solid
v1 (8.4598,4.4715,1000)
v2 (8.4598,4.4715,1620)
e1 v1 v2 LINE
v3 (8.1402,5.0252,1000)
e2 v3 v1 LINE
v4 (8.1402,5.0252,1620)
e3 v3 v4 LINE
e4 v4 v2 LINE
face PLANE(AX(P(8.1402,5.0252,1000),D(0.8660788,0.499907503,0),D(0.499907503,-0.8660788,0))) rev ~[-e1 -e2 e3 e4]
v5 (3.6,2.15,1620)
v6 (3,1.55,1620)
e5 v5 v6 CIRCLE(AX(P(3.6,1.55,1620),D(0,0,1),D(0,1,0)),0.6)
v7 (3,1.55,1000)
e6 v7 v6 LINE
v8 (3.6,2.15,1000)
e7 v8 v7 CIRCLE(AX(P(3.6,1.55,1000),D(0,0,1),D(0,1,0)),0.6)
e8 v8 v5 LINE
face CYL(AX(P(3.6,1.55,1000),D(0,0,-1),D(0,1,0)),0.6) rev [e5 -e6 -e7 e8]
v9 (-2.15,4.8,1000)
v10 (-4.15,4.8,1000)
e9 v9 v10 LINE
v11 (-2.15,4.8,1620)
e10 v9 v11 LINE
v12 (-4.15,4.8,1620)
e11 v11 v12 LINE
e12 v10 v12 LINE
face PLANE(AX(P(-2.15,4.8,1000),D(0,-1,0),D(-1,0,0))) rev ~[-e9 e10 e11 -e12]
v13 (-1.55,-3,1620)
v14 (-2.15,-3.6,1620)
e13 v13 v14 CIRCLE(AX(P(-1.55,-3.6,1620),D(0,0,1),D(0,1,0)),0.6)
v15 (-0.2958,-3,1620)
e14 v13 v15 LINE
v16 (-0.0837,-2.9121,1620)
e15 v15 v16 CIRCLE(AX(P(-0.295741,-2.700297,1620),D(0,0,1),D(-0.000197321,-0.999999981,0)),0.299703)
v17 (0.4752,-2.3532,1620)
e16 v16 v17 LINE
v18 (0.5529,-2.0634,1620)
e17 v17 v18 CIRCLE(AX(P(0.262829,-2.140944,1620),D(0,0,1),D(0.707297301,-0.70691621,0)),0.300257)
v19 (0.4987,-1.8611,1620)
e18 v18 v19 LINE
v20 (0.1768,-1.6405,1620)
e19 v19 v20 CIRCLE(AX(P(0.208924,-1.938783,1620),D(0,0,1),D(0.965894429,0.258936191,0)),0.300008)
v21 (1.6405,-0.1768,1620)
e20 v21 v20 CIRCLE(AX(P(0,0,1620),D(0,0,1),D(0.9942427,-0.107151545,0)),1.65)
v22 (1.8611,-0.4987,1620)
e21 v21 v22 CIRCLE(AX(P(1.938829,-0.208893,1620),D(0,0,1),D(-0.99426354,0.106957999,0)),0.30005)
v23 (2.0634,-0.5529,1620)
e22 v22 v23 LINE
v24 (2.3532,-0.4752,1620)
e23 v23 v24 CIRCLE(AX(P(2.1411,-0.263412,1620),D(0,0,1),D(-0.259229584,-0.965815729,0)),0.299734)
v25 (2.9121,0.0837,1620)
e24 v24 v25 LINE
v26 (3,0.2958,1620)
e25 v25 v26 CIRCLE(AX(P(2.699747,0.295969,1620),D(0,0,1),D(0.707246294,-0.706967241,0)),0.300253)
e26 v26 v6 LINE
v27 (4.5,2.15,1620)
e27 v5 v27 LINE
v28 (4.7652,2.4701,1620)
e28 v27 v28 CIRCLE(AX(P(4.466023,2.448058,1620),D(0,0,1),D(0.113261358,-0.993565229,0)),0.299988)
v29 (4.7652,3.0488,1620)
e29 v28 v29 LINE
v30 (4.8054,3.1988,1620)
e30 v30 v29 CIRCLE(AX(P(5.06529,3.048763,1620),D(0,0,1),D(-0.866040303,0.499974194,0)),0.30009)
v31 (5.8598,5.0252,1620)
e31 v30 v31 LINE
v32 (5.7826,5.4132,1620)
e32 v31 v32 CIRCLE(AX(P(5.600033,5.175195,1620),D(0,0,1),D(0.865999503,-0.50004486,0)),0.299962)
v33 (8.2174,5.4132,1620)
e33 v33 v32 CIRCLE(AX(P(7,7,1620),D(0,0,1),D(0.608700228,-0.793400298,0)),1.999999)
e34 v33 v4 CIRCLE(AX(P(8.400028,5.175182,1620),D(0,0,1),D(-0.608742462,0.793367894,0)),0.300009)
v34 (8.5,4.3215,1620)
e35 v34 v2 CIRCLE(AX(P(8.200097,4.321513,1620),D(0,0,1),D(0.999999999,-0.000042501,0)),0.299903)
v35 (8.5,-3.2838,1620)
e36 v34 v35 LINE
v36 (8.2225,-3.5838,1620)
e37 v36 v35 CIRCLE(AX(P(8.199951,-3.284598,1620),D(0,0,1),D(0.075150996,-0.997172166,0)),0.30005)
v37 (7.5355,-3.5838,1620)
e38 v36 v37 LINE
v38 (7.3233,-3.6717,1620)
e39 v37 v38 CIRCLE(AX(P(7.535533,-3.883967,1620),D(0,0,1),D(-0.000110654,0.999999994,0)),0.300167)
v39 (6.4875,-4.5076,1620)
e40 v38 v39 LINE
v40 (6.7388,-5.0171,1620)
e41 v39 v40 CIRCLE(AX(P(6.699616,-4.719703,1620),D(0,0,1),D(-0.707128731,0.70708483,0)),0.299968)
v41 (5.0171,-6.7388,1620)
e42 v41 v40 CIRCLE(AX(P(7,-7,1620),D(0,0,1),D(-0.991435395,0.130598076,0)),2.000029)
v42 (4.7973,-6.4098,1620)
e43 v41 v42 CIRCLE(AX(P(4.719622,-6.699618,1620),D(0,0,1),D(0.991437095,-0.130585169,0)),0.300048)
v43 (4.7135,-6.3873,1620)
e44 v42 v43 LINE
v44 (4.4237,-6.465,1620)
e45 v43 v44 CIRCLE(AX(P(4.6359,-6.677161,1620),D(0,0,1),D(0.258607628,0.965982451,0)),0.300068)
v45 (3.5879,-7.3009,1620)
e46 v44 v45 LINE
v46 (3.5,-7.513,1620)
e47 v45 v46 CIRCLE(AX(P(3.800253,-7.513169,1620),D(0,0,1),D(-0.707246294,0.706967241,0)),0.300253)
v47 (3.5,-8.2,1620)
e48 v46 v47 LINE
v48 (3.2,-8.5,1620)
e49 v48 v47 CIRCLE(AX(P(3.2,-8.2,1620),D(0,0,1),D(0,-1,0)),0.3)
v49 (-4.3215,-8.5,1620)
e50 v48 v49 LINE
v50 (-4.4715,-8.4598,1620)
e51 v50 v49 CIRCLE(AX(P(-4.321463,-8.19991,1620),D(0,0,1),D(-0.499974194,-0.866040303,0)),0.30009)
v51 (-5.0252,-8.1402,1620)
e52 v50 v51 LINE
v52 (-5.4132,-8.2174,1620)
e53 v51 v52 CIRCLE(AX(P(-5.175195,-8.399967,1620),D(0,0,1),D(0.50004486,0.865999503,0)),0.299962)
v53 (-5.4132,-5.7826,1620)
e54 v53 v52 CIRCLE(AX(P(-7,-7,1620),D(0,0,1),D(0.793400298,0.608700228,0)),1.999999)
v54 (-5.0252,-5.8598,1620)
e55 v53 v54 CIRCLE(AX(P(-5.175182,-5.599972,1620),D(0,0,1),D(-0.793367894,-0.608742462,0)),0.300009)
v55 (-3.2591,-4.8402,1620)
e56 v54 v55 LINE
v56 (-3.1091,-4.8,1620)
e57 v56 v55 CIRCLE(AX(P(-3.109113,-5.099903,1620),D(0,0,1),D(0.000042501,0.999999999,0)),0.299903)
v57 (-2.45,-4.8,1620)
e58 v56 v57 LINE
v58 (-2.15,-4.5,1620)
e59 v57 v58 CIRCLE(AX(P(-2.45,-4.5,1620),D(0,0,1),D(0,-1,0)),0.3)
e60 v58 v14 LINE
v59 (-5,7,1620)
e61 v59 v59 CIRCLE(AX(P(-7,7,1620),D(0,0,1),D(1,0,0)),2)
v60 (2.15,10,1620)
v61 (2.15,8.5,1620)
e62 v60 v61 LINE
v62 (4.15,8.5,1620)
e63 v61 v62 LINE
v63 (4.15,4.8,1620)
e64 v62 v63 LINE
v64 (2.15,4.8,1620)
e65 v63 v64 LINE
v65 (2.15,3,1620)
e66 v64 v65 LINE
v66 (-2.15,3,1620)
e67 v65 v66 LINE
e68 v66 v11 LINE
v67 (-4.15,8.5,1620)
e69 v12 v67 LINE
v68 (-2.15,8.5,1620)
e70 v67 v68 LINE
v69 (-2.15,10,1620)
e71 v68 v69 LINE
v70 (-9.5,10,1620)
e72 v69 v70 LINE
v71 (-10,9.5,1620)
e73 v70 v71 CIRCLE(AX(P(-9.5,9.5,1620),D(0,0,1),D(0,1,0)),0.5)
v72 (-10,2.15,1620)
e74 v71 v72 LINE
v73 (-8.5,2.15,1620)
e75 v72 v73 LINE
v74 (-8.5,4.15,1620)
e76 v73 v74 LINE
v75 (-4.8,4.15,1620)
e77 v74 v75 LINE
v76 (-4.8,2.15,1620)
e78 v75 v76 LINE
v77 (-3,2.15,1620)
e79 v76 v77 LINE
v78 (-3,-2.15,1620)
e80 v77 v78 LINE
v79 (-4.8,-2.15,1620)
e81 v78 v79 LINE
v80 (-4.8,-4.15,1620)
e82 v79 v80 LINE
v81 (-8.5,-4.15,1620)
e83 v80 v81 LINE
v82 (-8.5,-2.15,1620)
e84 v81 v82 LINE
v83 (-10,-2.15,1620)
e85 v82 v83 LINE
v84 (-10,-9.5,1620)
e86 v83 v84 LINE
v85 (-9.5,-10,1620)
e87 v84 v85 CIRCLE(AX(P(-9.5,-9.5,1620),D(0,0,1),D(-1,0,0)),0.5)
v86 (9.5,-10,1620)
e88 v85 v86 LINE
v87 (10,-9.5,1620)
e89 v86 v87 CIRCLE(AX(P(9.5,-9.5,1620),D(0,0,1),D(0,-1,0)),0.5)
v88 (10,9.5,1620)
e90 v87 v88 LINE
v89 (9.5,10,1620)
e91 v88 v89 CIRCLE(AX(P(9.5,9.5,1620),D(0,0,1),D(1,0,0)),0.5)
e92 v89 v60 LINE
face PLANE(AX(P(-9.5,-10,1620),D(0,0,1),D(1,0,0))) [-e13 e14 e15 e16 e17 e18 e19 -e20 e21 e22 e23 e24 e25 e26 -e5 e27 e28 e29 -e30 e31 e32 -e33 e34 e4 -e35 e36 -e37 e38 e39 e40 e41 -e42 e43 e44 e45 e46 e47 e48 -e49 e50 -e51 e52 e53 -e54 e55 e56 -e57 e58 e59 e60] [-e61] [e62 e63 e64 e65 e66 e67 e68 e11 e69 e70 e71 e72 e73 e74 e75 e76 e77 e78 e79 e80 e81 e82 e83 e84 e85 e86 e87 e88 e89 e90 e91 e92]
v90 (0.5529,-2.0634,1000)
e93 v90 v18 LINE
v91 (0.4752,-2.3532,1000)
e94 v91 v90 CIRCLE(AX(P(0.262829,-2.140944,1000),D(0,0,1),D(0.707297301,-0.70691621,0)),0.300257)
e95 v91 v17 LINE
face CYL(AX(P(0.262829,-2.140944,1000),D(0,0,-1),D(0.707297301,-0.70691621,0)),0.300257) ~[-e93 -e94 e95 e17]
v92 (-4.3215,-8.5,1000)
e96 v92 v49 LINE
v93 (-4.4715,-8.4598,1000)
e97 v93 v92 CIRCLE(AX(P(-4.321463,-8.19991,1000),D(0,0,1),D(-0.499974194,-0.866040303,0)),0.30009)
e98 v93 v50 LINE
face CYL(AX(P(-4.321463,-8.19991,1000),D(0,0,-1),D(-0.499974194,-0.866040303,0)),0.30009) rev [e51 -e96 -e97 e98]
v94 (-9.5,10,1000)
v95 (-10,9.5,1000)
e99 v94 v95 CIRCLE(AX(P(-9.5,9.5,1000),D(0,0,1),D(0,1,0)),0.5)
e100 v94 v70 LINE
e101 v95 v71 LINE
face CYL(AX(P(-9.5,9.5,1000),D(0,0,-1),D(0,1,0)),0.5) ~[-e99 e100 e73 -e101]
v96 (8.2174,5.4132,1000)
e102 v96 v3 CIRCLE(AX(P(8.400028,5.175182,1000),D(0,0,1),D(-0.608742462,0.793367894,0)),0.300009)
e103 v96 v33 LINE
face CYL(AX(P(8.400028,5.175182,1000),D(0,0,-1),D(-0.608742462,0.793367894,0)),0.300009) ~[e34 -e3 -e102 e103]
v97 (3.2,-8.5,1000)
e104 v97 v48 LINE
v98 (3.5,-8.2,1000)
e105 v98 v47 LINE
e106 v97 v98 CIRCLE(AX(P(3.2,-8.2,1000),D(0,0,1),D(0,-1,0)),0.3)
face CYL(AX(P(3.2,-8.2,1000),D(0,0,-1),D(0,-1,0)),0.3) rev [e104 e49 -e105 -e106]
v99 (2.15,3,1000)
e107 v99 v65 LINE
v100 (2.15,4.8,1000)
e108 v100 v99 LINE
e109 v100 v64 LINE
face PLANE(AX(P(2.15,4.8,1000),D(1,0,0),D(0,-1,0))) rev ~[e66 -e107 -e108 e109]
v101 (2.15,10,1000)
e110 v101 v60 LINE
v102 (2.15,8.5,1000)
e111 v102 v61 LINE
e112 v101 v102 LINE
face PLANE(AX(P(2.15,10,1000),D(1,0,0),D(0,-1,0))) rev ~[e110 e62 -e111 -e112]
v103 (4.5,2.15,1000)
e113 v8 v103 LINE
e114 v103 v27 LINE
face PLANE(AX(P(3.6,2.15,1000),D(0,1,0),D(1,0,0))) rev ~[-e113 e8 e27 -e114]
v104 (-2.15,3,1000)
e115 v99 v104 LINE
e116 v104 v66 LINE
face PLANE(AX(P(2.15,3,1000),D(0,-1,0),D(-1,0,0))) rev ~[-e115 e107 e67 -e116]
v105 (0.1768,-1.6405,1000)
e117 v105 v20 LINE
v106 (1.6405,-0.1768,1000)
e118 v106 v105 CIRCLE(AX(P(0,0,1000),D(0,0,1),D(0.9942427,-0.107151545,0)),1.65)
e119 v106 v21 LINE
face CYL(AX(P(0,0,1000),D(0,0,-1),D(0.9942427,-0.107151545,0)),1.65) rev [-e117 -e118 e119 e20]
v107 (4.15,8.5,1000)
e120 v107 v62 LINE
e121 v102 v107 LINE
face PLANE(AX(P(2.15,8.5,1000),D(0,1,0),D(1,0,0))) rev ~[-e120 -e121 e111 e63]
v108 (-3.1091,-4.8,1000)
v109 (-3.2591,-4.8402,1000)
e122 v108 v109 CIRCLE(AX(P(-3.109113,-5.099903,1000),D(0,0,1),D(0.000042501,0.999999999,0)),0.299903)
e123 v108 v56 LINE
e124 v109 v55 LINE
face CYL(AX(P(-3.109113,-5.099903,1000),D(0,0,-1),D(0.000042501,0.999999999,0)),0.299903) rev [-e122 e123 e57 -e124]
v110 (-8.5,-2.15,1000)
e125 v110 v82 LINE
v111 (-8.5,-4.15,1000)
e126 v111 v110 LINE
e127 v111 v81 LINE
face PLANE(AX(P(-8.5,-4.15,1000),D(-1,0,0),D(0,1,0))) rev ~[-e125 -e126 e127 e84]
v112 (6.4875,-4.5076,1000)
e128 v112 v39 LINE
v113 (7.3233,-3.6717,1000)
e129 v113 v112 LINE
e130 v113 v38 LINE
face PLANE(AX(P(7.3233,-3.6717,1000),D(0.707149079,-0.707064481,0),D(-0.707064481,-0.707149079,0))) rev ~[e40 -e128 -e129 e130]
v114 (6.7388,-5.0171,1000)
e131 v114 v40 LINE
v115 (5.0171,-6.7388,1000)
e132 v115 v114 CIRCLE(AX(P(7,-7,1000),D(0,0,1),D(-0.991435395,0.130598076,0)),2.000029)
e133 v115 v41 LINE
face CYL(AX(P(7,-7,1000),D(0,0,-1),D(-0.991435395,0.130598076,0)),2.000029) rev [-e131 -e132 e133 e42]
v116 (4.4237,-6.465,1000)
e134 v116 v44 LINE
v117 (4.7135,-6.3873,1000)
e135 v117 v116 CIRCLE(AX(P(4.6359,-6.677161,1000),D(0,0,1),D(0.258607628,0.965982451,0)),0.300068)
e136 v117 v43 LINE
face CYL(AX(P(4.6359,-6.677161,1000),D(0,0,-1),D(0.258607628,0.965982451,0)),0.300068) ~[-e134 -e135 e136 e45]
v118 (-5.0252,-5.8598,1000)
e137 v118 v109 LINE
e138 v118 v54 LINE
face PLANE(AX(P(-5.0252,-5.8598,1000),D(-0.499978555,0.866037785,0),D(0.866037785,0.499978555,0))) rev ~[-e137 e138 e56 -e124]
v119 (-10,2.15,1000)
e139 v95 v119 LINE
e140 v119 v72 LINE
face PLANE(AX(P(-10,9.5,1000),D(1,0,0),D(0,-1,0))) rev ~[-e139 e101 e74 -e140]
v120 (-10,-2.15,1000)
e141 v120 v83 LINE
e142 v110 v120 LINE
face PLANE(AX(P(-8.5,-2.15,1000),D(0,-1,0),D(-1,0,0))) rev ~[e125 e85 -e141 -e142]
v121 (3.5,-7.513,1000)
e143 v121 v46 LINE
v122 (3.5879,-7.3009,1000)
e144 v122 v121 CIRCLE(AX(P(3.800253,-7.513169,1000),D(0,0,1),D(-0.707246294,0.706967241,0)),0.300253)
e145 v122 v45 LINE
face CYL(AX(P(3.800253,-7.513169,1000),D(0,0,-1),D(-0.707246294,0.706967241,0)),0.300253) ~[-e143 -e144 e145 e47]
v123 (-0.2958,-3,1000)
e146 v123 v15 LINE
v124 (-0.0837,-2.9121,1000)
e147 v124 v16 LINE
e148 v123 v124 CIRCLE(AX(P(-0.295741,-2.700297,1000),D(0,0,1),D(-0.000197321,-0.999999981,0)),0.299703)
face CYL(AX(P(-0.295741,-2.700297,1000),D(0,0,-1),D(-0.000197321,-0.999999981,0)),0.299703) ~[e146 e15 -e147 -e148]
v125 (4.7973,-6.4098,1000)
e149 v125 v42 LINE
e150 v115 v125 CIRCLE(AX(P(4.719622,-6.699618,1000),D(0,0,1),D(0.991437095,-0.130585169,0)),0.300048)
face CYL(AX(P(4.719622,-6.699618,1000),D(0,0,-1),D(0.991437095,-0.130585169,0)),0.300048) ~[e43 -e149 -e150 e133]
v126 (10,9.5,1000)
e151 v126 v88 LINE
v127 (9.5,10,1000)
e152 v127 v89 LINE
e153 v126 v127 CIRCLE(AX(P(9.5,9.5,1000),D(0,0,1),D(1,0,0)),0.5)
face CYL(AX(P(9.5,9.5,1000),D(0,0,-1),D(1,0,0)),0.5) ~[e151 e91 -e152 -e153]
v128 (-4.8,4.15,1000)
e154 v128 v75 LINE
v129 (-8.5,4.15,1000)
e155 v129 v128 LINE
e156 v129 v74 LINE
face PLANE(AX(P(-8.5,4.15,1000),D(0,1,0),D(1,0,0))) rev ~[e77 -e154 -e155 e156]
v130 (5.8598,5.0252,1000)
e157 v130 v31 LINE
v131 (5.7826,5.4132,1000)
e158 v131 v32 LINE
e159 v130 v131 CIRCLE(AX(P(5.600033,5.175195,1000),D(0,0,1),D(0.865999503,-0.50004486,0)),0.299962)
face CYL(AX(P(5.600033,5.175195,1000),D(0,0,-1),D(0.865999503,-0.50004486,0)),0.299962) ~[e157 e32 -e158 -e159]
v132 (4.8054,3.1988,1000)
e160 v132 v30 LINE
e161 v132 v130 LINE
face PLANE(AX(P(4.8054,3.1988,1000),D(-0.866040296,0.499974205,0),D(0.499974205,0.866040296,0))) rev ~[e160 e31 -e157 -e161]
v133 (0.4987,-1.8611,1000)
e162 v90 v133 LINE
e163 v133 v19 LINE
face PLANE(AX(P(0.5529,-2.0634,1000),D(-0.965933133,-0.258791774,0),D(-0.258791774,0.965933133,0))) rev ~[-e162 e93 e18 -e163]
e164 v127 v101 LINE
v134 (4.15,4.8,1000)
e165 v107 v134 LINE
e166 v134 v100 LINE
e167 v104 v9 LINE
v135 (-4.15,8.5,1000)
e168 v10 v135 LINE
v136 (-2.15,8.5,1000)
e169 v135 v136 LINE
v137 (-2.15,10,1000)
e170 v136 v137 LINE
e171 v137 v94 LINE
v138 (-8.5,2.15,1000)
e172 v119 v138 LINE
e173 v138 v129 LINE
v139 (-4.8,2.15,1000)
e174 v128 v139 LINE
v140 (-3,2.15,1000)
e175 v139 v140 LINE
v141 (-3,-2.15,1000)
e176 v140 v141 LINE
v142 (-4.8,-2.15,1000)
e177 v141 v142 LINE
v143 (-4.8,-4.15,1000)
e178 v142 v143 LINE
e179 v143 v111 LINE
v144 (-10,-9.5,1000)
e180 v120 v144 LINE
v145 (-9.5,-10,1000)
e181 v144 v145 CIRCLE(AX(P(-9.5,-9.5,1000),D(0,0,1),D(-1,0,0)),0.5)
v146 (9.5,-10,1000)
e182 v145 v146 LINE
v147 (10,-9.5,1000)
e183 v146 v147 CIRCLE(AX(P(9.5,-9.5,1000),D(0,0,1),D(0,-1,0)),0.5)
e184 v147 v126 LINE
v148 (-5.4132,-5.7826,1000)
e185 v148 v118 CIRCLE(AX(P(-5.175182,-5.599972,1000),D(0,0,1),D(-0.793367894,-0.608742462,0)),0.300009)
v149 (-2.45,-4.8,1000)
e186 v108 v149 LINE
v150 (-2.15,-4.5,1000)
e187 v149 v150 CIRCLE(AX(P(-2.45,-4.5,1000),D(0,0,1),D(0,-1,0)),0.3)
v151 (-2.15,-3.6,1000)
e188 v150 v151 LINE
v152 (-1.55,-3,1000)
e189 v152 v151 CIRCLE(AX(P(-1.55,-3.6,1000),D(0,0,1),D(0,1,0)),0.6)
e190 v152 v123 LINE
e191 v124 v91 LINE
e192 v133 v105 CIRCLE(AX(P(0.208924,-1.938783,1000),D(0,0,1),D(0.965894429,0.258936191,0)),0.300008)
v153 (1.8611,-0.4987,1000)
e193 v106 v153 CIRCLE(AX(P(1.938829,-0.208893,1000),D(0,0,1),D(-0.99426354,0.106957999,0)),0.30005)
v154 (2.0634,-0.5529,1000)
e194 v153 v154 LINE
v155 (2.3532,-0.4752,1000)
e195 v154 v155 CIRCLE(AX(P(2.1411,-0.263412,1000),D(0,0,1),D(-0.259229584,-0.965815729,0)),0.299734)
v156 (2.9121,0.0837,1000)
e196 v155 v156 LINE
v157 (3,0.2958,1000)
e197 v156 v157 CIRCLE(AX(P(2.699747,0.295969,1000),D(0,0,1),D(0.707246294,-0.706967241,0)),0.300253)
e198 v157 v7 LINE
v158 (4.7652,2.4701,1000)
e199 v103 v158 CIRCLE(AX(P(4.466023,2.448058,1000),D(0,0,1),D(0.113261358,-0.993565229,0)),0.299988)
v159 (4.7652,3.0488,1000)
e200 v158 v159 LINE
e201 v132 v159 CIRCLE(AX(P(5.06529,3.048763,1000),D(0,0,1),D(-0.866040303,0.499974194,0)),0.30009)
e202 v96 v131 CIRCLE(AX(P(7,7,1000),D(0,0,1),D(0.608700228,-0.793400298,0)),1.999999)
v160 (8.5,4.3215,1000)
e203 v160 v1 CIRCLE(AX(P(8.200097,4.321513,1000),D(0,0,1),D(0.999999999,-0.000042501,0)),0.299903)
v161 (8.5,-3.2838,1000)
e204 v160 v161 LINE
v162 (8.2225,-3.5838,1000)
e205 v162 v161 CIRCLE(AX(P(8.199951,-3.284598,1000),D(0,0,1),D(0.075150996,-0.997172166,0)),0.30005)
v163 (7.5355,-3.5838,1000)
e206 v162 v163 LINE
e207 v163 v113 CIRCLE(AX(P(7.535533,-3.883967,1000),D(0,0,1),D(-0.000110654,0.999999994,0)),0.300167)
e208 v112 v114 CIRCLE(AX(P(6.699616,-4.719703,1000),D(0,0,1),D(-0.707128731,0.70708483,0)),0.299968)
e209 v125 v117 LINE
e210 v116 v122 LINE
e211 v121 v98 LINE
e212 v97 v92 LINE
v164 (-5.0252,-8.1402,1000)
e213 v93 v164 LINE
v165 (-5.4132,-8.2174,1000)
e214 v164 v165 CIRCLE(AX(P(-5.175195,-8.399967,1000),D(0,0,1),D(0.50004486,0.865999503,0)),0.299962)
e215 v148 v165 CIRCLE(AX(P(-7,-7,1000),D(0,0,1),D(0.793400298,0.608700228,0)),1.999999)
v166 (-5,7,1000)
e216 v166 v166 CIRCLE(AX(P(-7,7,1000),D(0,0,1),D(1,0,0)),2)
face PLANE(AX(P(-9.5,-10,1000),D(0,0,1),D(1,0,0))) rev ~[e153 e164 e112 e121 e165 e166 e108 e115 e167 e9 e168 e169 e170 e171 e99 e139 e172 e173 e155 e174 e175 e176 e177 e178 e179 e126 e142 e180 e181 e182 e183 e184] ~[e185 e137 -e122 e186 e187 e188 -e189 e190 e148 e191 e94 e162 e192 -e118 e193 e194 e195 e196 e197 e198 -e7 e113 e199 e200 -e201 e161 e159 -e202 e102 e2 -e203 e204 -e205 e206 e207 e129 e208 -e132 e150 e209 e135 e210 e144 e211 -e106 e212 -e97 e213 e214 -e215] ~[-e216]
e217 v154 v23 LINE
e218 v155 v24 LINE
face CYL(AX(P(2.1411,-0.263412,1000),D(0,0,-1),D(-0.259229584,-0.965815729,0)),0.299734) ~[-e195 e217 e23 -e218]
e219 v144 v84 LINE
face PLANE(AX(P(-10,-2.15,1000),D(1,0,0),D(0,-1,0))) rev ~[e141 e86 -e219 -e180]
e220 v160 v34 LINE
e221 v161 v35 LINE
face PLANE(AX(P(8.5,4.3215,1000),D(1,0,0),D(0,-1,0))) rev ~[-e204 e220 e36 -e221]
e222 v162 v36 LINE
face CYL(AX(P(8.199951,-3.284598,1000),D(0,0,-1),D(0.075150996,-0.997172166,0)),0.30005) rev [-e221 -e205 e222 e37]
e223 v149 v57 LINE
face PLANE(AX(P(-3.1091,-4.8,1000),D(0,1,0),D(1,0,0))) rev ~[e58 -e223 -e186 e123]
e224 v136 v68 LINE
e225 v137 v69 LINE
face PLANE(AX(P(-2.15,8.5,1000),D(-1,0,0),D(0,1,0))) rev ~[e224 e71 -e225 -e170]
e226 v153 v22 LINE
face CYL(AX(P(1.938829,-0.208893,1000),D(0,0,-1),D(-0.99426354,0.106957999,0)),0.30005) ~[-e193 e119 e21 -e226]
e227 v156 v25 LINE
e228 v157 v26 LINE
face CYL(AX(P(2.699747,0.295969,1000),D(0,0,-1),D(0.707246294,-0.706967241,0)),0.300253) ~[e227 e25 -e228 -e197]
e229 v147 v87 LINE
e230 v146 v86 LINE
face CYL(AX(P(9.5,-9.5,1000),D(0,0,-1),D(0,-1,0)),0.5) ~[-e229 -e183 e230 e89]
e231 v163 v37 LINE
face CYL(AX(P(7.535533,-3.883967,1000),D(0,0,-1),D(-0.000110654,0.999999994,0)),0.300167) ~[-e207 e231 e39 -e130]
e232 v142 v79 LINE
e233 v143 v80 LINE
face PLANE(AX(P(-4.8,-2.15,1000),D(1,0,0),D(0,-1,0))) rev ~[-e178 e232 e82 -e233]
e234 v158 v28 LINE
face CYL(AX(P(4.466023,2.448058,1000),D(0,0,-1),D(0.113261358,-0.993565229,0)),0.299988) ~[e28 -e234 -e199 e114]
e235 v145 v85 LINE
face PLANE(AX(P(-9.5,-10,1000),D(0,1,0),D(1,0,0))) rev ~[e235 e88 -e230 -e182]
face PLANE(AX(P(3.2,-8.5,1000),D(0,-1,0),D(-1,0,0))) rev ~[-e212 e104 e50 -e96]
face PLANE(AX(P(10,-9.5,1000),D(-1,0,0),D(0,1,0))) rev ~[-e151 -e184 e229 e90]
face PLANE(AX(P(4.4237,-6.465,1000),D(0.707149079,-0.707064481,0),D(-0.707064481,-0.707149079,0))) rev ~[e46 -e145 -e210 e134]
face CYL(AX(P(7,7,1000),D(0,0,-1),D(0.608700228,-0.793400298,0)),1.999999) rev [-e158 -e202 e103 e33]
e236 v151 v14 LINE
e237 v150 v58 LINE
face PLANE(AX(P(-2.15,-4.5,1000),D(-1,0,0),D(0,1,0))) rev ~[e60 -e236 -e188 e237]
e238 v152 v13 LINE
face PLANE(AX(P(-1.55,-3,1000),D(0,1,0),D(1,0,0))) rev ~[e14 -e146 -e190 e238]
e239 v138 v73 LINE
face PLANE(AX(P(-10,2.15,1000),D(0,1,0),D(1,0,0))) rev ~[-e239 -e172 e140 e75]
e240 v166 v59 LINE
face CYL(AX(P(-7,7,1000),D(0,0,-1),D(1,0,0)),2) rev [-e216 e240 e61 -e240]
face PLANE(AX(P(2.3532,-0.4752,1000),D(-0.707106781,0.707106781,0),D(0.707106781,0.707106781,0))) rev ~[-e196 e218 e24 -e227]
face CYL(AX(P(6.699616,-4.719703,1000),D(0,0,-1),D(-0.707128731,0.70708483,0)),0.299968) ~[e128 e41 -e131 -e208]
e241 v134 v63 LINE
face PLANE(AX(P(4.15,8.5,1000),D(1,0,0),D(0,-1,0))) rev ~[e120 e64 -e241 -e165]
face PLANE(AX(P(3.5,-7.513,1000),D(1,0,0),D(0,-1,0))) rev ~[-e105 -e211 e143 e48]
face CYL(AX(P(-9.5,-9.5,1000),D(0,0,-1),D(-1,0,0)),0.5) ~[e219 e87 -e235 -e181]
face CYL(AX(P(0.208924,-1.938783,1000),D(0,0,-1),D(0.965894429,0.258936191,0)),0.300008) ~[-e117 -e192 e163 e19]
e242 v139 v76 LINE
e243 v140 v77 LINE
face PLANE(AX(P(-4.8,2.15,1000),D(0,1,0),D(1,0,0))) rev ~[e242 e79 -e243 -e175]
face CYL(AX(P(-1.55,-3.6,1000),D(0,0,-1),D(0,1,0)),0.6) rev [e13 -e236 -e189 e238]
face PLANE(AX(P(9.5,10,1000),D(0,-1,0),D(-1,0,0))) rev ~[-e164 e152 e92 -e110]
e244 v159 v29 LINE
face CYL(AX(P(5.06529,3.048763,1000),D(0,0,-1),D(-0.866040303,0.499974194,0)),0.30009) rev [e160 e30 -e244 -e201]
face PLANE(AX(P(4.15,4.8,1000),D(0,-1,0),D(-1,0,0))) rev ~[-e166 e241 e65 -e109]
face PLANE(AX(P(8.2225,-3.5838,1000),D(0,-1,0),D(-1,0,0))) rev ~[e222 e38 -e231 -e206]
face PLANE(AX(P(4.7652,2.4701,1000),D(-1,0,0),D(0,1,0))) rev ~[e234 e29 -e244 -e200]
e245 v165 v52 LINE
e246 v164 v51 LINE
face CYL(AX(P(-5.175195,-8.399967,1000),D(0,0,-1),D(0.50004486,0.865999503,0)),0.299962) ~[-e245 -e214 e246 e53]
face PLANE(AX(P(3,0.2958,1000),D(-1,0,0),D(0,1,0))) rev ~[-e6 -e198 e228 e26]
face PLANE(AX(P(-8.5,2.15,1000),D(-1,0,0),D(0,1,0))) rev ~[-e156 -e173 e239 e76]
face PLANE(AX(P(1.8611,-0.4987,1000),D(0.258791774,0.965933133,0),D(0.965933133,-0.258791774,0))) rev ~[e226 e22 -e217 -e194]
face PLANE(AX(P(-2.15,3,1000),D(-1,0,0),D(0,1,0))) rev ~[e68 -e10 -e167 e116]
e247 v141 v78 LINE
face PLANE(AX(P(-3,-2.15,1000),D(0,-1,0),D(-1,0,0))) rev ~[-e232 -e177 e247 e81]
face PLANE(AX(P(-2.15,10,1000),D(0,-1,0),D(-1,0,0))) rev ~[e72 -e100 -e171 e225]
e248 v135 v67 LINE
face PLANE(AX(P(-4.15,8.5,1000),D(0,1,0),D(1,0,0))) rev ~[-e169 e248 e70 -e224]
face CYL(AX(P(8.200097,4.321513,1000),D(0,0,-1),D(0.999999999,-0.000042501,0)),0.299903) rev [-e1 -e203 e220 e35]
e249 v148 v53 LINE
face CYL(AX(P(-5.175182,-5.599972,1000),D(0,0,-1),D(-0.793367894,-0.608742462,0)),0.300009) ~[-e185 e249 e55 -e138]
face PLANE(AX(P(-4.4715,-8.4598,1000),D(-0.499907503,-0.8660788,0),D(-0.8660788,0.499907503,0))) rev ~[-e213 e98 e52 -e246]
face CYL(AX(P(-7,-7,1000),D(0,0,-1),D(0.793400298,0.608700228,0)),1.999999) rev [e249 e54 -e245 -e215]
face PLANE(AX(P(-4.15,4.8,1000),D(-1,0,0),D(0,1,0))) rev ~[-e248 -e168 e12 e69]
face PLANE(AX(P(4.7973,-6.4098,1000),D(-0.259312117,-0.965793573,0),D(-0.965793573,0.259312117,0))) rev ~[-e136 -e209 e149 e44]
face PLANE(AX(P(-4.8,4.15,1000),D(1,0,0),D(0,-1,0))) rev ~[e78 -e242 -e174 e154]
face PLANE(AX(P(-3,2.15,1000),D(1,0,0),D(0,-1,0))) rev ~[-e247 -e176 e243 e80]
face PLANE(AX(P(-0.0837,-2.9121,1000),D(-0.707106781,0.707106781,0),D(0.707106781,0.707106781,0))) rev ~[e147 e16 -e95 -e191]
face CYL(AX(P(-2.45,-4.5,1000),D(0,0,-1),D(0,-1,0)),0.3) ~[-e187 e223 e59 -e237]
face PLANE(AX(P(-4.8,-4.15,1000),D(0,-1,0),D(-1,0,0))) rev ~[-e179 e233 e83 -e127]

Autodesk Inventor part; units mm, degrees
ref_plane "YZ Plane" through (0, 0, 0) normal (1, 0, 0) x (0, 1, 0)
ref_plane "XZ Plane" through (0, 0, 0) normal (0, 1, 0) x (-1, 0, 0)
ref_plane "作業平面1" through (-9.5, -10, 1000) normal (0, 0, 1) x (1, 0, 0)
sketch "スケッチ1" plane through (-9.5, -10, 1000) normal (0, 0, 1) x (1, 0, 0)
  line L0 (7.35, 18.5) -> (7.35, 20) projected
  line L1 (7.35, 20) -> (0, 20) projected
  arc A0 (0, 20) -> (-0.5, 19.5) centre (0, 19.5) ccw projected
  line L2 (-0.5, 19.5) -> (-0.5, 12.15) projected
  line L3 (-0.5, 12.15) -> (1, 12.15) projected
  line L4 (1, 12.15) -> (1, 14.15) projected
  line L5 (1, 14.15) -> (4.7, 14.15) projected
  line L6 (4.7, 14.15) -> (4.7, 12.15) projected
  line L7 (4.7, 12.15) -> (6.5, 12.15) projected
  line L8 (6.5, 12.15) -> (6.5, 7.85) projected
  line L9 (6.5, 7.85) -> (4.7, 7.85) projected
  line L10 (4.7, 7.85) -> (4.7, 5.85) projected
  line L11 (4.7, 5.85) -> (1, 5.85) projected
  line L12 (1, 5.85) -> (1, 7.85) projected
  line L13 (1, 7.85) -> (-0.5, 7.85) projected
  line L14 (-0.5, 7.85) -> (-0.5, 0.5) projected
  arc A1 (-0.5, 0.5) -> (0, 0) centre (0, 0.5) ccw projected
  line L15 (0, 0) -> (19, 0) projected
  arc A2 (19, 0) -> (19.5, 0.5) centre (19, 0.5) ccw projected
  line L16 (19.5, 0.5) -> (19.5, 19.5) projected
  arc A3 (19.5, 19.5) -> (19, 20) centre (19, 19.5) ccw projected
  line L17 (19, 20) -> (11.65, 20) projected
  line L18 (11.65, 20) -> (11.65, 18.5) projected
  line L19 (11.65, 18.5) -> (13.65, 18.5) projected
  line L20 (13.65, 18.5) -> (13.65, 14.8) projected
  line L21 (13.65, 14.8) -> (11.65, 14.8) projected
  line L22 (11.65, 14.8) -> (11.65, 13) projected
  line L23 (11.65, 13) -> (7.35, 13) projected
  line L24 (7.35, 13) -> (7.35, 14.8) projected
  line L25 (7.35, 14.8) -> (5.35, 14.8) projected
  line L26 (5.35, 14.8) -> (5.35, 18.5) projected
  line L27 (5.35, 18.5) -> (7.35, 18.5) projected
  arc A4 (17.7174, 15.4132) -> (17.6402, 15.0252) centre (17.9, 15.1752) ccw projected
  line L28 (17.6402, 15.0252) -> (17.9598, 14.4715) projected
  arc A5 (18, 14.3215) -> (17.9598, 14.4715) centre (17.7, 14.3215) ccw projected
  line L29 (18, 14.3215) -> (18, 6.7162) projected
  arc A6 (17.7225, 6.4162) -> (18, 6.7162) centre (17.7, 6.7153) ccw projected
  line L30 (17.7225, 6.4162) -> (17.0355, 6.4162) projected
  arc A7 (17.0355, 6.4162) -> (16.8233, 6.3283) centre (17.0355, 6.1162) ccw projected
  line L31 (16.8233, 6.3283) -> (15.9875, 5.4924) projected
  arc A8 (15.9875, 5.4924) -> (16.2388, 4.9829) centre (16.1996, 5.2803) ccw projected
  arc A9 (14.5171, 3.2612) -> (16.2388, 4.9829) centre (16.5, 3) ccw projected
  arc A10 (14.5171, 3.2612) -> (14.2973, 3.5902) centre (14.2197, 3.3004) ccw projected
  line L32 (14.2973, 3.5902) -> (14.2135, 3.6127) projected
  arc A11 (14.2135, 3.6127) -> (13.9237, 3.535) centre (14.1359, 3.3229) ccw projected
  line L33 (13.9237, 3.535) -> (13.0879, 2.6991) projected
  arc A12 (13.0879, 2.6991) -> (13, 2.487) centre (13.3, 2.487) ccw projected
  line L34 (13, 2.487) -> (13, 1.8) projected
  arc A13 (12.7, 1.5) -> (13, 1.8) centre (12.7, 1.8) ccw projected
  line L35 (12.7, 1.5) -> (5.1785, 1.5) projected
  arc A14 (5.0285, 1.5402) -> (5.1785, 1.5) centre (5.1785, 1.8) ccw projected
  line L36 (5.0285, 1.5402) -> (4.4748, 1.8598) projected
  arc A15 (4.4748, 1.8598) -> (4.0868, 1.7826) centre (4.3248, 1.6) ccw projected
  arc A16 (4.0868, 4.2174) -> (4.0868, 1.7826) centre (2.5, 3) ccw projected
  arc A17 (4.0868, 4.2174) -> (4.4748, 4.1402) centre (4.3248, 4.4) ccw projected
  line L37 (4.4748, 4.1402) -> (6.2409, 5.1598) projected
  arc A18 (6.3909, 5.2) -> (6.2409, 5.1598) centre (6.3909, 4.9) ccw projected
  line L38 (6.3909, 5.2) -> (7.05, 5.2) projected
  arc A19 (7.05, 5.2) -> (7.35, 5.5) centre (7.05, 5.5) ccw projected
  line L39 (7.35, 5.5) -> (7.35, 6.4) projected
  arc A20 (7.95, 7) -> (7.35, 6.4) centre (7.95, 6.4) ccw projected
  line L40 (7.95, 7) -> (9.2042, 7) projected
  arc A21 (9.2042, 7) -> (9.4163, 7.0879) centre (9.2042, 7.3) ccw projected
  line L41 (9.4163, 7.0879) -> (9.9752, 7.6468) projected
  arc A22 (9.9752, 7.6468) -> (10.0529, 7.9366) centre (9.7631, 7.8589) ccw projected
  line L42 (10.0529, 7.9366) -> (9.9987, 8.1389) projected
  arc A23 (9.9987, 8.1389) -> (9.6768, 8.3595) centre (9.7089, 8.0612) ccw projected
  arc A24 (11.1405, 9.8232) -> (9.6768, 8.3595) centre (9.5, 10) ccw projected
  arc A25 (11.1405, 9.8232) -> (11.3611, 9.5013) centre (11.4388, 9.7911) ccw projected
  line L43 (11.3611, 9.5013) -> (11.5634, 9.4471) projected
  arc A26 (11.5634, 9.4471) -> (11.8532, 9.5248) centre (11.6411, 9.7369) ccw projected
  line L44 (11.8532, 9.5248) -> (12.4121, 10.0837) projected
  arc A27 (12.4121, 10.0837) -> (12.5, 10.2958) centre (12.2, 10.2958) ccw projected
  line L45 (12.5, 10.2958) -> (12.5, 11.55) projected
  arc A28 (13.1, 12.15) -> (12.5, 11.55) centre (13.1, 11.55) ccw projected
  line L46 (13.1, 12.15) -> (14, 12.15) projected
  arc A29 (14, 12.15) -> (14.2652, 12.4701) centre (13.966, 12.4481) ccw projected
  line L47 (14.2652, 12.4701) -> (14.2652, 13.0488) projected
  arc A30 (14.3054, 13.1988) -> (14.2652, 13.0488) centre (14.5652, 13.0488) ccw projected
  line L48 (14.3054, 13.1988) -> (15.3598, 15.0252) projected
  arc A31 (15.3598, 15.0252) -> (15.2826, 15.4132) centre (15.1, 15.1752) ccw projected
  arc A32 (17.7174, 15.4132) -> (15.2826, 15.4132) centre (16.5, 17) ccw projected
  circle A33 centre (2.5, 17) radius 2 projected
  point P0 (9.5, 10)
extrude "押し出し1" add sketch "スケッチ1" along normal blind 620
properties part number "AFST-2020-4-1000"
